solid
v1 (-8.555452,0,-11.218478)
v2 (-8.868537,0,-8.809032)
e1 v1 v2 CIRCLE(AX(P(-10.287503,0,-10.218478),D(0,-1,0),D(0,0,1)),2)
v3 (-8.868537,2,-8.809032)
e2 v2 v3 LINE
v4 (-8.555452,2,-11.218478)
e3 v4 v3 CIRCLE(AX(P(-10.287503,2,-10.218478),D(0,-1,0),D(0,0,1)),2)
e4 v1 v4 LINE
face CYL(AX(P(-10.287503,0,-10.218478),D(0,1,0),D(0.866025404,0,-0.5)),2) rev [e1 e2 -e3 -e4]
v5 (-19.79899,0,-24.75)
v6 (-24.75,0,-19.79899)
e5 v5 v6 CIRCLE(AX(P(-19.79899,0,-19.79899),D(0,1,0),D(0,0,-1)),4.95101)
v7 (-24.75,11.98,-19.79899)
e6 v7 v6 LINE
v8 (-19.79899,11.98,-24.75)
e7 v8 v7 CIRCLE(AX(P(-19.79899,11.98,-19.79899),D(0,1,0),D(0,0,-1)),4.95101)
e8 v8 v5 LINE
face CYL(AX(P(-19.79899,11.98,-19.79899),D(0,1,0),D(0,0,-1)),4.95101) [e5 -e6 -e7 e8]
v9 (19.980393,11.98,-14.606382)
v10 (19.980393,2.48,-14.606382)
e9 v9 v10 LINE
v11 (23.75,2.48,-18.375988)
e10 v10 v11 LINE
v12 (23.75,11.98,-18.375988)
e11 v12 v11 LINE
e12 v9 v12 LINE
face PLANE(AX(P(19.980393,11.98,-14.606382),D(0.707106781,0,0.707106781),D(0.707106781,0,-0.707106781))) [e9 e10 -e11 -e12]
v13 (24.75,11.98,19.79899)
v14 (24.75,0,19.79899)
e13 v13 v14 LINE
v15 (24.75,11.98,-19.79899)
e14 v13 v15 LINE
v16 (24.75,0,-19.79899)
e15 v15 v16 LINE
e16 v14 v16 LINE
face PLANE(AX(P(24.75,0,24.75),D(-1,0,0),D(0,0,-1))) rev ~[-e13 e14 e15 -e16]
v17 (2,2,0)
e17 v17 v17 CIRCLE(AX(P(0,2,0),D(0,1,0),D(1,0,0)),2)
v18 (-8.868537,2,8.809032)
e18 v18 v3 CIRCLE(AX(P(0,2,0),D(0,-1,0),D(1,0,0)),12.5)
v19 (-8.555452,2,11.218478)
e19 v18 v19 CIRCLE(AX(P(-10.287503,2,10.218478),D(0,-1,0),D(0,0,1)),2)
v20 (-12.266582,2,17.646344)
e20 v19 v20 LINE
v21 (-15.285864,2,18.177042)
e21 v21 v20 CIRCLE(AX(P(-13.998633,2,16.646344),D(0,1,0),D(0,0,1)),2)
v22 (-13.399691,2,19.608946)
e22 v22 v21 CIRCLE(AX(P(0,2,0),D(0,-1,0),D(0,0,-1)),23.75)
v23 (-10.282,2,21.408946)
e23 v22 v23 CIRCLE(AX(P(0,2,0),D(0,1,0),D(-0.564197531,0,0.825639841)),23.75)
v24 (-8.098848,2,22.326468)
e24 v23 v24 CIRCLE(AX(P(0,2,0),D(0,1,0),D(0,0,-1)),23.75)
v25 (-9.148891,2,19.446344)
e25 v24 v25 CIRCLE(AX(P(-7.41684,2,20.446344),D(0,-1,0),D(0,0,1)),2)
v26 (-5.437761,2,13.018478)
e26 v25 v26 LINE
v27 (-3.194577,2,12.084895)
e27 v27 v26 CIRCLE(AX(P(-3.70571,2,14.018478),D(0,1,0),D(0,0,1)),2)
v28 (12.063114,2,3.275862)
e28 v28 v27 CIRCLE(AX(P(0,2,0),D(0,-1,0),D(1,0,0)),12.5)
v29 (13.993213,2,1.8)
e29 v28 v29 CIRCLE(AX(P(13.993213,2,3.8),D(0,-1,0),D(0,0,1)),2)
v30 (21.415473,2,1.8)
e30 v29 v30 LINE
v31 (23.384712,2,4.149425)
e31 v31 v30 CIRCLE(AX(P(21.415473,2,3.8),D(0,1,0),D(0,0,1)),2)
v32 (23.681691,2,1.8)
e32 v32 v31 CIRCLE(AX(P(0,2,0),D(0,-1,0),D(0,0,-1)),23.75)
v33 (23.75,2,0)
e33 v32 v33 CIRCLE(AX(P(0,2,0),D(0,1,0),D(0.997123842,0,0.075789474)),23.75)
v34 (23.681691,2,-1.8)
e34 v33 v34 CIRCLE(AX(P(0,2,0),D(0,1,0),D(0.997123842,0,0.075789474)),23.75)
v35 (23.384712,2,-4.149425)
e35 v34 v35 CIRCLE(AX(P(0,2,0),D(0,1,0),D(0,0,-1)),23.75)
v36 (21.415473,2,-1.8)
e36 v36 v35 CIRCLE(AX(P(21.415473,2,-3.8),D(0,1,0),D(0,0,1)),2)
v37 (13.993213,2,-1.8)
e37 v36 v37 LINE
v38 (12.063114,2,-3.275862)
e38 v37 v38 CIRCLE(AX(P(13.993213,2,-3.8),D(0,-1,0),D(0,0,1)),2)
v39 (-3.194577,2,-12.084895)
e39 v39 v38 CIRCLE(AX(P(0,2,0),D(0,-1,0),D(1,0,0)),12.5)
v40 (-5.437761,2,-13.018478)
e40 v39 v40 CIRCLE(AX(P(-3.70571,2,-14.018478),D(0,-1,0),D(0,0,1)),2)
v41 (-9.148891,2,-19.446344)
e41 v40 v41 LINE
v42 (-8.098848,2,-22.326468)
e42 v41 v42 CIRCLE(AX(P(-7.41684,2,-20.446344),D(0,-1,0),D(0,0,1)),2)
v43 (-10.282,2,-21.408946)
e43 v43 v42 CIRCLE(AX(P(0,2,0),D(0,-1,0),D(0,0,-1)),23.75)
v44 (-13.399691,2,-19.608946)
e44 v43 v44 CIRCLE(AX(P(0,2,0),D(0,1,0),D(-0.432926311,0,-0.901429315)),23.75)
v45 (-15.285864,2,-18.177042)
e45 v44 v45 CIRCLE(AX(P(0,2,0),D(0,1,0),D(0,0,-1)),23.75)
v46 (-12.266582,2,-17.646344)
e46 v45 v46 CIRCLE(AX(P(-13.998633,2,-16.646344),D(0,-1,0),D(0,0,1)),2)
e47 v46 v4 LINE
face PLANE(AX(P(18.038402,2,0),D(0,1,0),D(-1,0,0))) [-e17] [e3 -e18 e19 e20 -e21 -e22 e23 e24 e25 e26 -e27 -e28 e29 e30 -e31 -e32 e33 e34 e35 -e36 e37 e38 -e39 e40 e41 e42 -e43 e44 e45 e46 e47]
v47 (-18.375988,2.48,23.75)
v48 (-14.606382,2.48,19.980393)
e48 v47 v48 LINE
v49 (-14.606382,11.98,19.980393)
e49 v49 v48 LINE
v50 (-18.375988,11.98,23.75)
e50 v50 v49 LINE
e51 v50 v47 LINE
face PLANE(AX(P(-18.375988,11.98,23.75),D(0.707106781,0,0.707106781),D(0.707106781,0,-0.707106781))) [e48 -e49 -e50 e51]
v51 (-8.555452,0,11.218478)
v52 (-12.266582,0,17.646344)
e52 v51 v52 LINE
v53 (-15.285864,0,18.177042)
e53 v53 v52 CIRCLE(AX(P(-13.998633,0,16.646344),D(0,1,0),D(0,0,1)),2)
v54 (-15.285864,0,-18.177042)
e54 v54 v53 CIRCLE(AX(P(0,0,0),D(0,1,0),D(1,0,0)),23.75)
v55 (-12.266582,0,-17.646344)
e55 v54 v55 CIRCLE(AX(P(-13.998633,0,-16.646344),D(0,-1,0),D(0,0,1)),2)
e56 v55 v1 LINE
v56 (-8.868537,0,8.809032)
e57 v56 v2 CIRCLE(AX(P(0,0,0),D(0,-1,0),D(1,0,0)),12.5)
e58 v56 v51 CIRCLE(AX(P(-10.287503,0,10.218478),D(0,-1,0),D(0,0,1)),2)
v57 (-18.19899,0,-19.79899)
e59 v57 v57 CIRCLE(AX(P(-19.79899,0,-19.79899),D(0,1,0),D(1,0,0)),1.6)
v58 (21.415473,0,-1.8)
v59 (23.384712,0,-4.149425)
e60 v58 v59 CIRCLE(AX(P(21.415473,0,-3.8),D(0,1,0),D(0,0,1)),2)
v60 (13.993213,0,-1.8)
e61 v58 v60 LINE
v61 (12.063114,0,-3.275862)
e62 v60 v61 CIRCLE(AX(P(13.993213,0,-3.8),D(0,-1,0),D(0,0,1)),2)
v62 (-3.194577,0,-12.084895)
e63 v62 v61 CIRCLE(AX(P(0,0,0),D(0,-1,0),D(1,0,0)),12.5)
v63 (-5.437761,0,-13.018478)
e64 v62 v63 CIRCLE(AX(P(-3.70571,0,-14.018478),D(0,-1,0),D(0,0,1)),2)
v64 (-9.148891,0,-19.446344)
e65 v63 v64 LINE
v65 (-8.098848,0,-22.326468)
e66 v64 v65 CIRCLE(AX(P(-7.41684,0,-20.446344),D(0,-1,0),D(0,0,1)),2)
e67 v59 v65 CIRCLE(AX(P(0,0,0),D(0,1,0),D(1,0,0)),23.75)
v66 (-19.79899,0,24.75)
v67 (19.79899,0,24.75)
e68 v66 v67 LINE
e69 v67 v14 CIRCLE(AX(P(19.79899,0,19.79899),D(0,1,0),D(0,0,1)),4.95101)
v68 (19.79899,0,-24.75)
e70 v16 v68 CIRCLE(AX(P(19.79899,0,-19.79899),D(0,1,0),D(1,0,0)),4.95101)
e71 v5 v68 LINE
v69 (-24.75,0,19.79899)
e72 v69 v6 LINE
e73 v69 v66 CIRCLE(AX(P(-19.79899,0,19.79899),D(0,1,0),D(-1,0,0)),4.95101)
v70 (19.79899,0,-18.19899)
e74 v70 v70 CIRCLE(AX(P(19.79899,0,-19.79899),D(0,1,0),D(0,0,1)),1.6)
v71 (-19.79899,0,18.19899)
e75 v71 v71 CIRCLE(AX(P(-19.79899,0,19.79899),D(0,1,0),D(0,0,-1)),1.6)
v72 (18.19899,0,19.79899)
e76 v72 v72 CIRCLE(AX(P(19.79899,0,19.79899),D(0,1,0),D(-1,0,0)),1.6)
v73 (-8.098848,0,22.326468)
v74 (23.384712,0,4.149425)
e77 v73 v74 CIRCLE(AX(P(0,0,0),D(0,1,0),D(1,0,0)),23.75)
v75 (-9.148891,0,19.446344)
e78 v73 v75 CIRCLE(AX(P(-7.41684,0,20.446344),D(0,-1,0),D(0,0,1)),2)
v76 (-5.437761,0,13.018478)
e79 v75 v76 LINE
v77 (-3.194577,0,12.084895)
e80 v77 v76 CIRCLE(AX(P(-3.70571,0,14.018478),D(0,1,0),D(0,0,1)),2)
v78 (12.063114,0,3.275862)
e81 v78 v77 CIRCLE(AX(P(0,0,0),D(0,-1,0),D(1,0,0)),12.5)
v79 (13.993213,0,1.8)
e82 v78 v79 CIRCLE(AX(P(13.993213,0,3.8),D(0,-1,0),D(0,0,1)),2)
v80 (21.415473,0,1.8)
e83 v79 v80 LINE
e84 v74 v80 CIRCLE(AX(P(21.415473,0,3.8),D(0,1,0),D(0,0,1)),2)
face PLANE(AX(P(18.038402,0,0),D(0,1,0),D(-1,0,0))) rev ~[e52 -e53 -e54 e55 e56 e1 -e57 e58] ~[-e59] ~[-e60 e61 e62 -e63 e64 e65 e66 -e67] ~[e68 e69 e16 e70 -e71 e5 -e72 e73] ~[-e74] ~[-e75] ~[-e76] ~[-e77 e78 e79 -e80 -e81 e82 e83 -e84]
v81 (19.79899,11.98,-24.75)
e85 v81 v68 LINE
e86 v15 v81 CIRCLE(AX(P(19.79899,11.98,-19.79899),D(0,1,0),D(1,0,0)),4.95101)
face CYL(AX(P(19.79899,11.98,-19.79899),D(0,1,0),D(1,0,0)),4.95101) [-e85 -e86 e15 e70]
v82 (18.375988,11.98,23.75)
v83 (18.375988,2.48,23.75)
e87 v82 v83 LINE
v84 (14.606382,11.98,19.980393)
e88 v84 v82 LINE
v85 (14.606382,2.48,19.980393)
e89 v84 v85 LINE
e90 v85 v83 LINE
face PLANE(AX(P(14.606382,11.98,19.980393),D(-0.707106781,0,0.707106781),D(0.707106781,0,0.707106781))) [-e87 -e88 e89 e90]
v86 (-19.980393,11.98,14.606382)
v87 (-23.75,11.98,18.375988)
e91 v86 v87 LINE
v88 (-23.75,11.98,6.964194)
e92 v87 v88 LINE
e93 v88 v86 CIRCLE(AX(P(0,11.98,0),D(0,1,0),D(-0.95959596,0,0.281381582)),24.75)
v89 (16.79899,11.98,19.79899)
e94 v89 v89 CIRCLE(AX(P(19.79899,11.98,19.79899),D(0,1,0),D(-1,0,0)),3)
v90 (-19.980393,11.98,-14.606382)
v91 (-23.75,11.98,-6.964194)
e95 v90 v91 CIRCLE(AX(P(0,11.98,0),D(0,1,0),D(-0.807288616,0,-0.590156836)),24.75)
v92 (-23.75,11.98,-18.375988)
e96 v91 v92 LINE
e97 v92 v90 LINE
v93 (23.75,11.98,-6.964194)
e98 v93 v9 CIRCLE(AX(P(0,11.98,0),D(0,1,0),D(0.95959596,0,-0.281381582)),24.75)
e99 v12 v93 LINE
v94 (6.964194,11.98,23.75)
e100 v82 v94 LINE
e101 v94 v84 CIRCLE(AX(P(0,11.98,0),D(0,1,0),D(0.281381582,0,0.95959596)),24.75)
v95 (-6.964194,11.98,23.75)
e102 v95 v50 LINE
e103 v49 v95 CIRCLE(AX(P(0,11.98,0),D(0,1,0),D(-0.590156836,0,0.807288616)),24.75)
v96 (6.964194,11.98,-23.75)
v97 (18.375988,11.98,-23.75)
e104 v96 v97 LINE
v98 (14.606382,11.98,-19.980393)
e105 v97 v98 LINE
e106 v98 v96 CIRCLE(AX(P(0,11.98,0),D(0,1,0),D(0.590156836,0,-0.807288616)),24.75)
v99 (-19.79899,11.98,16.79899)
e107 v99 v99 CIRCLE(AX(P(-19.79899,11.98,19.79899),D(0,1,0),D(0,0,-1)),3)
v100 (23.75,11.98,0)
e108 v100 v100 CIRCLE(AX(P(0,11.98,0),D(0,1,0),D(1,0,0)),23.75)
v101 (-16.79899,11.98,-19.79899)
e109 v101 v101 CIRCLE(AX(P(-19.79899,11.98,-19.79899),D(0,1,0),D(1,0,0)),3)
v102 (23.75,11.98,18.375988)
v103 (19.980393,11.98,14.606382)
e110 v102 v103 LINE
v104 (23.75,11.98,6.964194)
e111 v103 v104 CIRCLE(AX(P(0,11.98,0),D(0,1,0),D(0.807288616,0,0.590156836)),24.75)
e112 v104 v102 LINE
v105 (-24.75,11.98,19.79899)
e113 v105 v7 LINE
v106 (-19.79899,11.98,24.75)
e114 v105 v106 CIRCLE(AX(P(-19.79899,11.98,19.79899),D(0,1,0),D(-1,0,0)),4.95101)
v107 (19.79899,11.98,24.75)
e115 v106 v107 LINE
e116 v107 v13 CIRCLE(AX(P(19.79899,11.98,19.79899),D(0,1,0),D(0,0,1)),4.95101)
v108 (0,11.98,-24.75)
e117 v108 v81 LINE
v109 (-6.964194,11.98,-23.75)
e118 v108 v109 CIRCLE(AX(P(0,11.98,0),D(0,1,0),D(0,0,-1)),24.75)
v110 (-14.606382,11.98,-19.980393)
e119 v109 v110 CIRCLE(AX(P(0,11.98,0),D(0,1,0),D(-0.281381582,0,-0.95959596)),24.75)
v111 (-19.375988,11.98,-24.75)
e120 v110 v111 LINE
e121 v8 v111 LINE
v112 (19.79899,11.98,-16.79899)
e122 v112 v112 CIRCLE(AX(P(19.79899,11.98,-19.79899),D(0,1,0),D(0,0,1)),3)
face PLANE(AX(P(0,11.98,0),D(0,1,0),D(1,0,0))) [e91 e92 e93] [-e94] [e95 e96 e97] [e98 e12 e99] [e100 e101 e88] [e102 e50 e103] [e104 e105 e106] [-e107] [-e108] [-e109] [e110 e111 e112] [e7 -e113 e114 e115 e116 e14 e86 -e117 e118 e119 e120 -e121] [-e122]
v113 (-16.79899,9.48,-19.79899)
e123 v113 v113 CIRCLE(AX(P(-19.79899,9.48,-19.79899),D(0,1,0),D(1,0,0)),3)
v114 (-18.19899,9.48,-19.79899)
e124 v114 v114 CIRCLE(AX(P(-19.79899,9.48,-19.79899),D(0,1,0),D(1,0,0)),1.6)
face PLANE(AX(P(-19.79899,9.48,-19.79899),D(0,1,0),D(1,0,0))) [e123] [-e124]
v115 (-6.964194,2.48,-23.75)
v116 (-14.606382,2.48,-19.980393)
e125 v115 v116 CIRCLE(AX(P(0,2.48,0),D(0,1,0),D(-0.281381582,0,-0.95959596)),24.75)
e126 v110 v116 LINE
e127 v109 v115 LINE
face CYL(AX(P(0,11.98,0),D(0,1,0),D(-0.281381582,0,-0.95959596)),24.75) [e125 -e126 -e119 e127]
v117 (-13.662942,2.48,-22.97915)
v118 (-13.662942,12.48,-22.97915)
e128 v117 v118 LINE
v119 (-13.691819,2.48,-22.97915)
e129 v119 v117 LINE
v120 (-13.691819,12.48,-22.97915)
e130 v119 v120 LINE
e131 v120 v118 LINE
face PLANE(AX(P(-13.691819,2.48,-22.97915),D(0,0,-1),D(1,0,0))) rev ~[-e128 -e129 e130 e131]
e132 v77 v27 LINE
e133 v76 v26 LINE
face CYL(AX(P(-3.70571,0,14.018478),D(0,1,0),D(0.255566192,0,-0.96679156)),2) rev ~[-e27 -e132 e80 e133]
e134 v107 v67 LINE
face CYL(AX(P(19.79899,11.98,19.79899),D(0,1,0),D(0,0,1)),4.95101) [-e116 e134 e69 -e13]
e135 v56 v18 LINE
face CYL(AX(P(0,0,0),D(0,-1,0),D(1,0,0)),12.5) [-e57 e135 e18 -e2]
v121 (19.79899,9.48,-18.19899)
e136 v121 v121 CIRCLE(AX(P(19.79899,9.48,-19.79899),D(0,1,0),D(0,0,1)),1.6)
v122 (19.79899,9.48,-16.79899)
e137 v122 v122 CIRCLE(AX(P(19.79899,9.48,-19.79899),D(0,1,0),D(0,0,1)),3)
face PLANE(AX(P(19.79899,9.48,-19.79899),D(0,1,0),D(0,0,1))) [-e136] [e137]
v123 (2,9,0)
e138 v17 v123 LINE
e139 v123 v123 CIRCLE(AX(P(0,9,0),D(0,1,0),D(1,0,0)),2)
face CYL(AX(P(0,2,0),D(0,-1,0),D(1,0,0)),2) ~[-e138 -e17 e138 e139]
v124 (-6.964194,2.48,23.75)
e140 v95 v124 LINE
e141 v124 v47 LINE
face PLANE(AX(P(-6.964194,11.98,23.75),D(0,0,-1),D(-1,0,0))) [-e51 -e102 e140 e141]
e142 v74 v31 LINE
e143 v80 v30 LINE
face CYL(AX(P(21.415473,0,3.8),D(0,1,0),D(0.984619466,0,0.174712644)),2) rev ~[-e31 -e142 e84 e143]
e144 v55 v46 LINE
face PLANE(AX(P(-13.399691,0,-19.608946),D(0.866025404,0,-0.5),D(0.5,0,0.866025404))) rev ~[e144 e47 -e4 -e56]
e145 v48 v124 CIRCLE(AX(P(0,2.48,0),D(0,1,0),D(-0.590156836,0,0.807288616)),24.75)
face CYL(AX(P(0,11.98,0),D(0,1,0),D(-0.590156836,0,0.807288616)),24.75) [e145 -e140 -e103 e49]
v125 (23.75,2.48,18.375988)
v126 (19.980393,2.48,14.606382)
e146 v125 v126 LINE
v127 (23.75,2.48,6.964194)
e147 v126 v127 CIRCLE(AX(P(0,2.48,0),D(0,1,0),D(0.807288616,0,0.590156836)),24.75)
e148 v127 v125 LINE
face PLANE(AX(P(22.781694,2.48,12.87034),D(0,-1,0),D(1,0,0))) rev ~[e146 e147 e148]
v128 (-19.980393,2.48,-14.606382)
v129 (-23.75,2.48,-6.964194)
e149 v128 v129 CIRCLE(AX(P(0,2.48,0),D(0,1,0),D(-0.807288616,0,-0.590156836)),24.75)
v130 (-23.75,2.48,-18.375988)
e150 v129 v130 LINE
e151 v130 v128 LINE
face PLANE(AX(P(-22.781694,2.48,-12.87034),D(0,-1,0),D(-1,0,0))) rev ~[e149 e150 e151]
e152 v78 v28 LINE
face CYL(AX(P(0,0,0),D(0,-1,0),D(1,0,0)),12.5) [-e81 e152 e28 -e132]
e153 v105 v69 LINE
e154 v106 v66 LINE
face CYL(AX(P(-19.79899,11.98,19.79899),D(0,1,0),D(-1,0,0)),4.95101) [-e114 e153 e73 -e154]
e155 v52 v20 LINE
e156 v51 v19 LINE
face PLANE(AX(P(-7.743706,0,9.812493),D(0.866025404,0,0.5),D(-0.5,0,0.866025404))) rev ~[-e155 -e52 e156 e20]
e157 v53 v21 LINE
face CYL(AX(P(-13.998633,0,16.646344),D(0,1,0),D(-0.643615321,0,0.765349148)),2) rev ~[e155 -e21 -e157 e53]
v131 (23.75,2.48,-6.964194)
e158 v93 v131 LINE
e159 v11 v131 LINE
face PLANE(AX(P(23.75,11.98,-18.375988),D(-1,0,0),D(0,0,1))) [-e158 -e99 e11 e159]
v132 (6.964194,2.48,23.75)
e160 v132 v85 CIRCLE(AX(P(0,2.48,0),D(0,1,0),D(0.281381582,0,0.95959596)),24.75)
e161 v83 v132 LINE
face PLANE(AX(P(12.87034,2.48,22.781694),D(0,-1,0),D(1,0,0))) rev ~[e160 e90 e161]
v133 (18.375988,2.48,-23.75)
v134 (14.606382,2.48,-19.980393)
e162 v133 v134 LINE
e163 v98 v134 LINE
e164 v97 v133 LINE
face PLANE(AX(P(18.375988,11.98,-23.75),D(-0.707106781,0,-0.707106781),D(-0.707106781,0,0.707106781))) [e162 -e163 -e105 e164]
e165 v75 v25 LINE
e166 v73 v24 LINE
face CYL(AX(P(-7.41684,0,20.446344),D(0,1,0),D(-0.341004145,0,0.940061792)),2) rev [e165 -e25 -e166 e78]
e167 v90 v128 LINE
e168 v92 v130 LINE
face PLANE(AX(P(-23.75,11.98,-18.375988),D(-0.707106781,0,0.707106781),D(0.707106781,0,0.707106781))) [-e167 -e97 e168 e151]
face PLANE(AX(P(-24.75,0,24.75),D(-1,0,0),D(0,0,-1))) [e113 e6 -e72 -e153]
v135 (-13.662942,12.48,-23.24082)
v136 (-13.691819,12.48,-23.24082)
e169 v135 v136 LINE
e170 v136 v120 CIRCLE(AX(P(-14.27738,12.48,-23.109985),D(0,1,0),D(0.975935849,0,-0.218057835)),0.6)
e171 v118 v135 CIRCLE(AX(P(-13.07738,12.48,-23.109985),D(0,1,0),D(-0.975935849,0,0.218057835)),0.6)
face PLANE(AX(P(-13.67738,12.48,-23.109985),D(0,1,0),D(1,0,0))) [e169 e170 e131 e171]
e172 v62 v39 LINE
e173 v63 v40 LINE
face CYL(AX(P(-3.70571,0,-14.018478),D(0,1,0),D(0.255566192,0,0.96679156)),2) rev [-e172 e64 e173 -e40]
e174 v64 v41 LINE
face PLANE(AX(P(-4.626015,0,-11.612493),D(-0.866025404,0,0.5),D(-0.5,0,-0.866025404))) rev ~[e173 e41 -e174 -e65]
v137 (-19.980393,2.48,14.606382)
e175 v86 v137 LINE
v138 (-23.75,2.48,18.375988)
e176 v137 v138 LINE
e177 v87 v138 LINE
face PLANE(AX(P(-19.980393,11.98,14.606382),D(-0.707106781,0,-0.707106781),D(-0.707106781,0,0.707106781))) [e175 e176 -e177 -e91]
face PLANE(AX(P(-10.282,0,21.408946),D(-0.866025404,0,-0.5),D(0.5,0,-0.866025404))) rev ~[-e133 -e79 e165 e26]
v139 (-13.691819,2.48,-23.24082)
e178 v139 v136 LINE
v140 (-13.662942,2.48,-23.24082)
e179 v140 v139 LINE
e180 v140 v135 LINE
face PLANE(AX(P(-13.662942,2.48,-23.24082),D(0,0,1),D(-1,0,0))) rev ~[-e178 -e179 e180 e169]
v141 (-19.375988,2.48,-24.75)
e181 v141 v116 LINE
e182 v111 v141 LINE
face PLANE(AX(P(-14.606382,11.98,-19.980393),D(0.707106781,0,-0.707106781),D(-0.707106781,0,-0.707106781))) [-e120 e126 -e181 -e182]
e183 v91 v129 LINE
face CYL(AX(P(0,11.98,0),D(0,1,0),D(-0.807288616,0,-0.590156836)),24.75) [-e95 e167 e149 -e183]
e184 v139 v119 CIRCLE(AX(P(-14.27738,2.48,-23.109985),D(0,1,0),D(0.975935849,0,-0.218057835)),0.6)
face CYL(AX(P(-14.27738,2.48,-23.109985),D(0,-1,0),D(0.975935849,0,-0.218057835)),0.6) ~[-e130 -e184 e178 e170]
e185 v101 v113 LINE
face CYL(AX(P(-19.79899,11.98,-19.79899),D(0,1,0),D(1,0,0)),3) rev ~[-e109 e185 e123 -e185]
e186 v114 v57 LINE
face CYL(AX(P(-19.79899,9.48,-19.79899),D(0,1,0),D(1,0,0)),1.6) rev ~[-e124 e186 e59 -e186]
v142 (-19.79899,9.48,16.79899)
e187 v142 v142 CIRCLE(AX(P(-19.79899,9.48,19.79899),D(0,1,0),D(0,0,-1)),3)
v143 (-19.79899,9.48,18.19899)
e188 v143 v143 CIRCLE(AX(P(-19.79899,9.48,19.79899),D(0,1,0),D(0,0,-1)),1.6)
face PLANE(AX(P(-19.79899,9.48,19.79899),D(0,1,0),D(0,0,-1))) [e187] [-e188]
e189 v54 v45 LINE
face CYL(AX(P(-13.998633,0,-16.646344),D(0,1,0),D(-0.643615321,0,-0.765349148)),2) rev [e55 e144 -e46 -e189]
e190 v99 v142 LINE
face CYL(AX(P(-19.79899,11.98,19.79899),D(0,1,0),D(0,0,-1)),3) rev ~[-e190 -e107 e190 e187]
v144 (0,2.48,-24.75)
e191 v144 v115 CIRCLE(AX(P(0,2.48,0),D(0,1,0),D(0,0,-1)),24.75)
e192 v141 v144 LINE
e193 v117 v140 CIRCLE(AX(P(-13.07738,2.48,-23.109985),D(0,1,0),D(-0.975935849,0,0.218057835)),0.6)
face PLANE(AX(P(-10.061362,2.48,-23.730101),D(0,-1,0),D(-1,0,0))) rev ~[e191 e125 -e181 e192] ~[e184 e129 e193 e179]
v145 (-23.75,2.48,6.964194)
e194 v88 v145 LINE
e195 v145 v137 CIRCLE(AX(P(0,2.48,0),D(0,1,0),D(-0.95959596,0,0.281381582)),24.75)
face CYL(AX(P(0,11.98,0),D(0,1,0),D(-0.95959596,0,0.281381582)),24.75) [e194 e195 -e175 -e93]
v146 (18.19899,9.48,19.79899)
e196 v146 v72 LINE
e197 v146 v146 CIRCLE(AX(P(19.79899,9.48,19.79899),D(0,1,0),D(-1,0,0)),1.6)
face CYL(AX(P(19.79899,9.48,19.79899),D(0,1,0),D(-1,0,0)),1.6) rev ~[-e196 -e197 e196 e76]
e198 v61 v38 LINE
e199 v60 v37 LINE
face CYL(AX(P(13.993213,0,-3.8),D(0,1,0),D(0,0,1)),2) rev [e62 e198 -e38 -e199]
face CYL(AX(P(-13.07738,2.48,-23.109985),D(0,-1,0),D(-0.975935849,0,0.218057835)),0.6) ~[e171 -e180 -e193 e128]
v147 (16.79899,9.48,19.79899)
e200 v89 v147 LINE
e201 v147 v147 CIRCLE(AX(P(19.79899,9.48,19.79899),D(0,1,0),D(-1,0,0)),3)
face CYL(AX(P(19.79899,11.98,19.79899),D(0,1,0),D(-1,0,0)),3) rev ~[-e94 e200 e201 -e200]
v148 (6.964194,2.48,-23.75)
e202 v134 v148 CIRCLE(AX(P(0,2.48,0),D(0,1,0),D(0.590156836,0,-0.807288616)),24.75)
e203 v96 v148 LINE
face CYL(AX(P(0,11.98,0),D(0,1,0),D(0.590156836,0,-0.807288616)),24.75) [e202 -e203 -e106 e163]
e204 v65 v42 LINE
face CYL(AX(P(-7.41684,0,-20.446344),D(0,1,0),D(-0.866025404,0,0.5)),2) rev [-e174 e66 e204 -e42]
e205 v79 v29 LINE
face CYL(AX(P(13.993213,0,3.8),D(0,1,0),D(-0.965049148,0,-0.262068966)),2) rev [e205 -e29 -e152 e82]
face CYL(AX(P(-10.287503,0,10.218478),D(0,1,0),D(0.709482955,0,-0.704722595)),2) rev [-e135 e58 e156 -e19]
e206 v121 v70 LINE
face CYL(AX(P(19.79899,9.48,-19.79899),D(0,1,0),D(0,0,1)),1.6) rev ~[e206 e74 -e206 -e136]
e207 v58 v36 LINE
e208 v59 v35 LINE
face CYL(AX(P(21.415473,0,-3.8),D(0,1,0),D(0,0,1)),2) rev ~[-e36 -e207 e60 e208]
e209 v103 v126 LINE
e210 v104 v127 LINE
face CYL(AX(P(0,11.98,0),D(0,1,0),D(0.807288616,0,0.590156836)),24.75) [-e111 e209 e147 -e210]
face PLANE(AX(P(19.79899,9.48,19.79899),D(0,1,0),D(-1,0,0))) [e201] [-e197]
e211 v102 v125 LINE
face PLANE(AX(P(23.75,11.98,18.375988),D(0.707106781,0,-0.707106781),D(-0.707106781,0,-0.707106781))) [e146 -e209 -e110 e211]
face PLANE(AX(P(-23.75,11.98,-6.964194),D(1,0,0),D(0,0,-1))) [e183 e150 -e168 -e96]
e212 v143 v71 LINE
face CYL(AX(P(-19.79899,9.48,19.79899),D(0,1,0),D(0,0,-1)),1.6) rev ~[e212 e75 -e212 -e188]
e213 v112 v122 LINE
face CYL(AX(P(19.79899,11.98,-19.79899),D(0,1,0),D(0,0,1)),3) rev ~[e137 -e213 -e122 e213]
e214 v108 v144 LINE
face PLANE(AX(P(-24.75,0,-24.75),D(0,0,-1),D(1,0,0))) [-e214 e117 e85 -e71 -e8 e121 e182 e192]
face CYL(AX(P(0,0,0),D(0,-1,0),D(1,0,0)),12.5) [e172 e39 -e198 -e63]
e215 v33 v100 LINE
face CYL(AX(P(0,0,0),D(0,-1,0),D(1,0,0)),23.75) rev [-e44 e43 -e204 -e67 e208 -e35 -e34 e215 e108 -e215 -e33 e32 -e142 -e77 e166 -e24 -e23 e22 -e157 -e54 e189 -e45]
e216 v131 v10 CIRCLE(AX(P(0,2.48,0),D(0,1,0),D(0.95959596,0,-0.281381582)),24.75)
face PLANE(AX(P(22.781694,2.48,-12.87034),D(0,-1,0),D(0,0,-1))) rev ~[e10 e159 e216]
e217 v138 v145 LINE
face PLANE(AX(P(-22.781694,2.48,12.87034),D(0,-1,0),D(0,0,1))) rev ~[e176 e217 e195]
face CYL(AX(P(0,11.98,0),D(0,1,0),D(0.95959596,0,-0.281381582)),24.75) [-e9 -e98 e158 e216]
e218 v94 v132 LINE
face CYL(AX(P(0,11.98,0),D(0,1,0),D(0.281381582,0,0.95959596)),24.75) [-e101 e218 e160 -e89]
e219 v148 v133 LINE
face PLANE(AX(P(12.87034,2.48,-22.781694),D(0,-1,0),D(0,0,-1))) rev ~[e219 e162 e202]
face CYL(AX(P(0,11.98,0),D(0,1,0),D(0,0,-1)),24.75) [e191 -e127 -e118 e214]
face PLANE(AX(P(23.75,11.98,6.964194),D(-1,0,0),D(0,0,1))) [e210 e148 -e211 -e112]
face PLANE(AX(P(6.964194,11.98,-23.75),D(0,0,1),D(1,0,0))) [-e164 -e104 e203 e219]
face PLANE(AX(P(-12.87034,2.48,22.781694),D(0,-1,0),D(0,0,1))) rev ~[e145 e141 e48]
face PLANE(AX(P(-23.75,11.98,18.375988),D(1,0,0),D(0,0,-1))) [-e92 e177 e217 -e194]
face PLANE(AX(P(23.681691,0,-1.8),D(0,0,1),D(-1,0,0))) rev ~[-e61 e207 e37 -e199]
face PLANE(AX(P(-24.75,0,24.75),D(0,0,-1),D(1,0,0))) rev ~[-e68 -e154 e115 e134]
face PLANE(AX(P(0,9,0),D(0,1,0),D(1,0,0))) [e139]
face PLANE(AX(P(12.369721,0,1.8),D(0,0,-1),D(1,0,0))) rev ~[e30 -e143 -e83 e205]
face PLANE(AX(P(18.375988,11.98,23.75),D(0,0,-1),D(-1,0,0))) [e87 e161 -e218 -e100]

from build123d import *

# Parameters (mm, degrees)
SKETCH_1_W                       = 49.5
SKETCH_1_H                       = 49.5
SKETCH_1_R                       = 23.75
EXTRUDE_1_DEPTH                  = 11.98
SKETCH_2_R                       = 3
CUT_EXTRUDE_1_DEPTH              = 2.5
SKETCH_3_R                       = 1.6
CUT_EXTRUDE_2_DEPTH              = 10.48
CUT_EXTRUDE_3_DEPTH              = 12.98
CUT_EXTRUDE_4_DEPTH              = 9.5
PATTERN_CIRCULAR_1_COUNT         = 4
SKETCH_7_R                       = 12.5
EXTRUDE_2_DEPTH                  = 2
EXTRUDE_3_DEPTH                  = 2
FILLET_2_R                       = 2
PATTERN_CIRCULAR_2_COUNT         = 3
FILLET_2_OF_PATTERN_CIRCULAR_2_R = 2
SKETCH_9_R                       = 2
EXTRUDE_4_DEPTH                  = 7
CUT_EXTRUDE_5_DEPTH              = 9.5
EXTRUDE_5_DEPTH                  = 10


with BuildPart() as part:
    # 草图1 → 凸台-拉伸1 (new body)
    with BuildSketch(Plane(origin=(0, 0, 0), x_dir=(1, 0, 0), z_dir=(0, 1, 0))):
        Rectangle(SKETCH_1_W, SKETCH_1_H)
        Circle(SKETCH_1_R, mode=Mode.SUBTRACT)
    extrude(amount=EXTRUDE_1_DEPTH)

    # 草图2 → 切除-拉伸1 (cut)
    with BuildSketch(Plane(origin=(0, 11.98, 0), x_dir=(1, 0, 0), z_dir=(0, 1, 0))):
        with Locations((-19.798989873, 19.798989873)):
            Circle(SKETCH_2_R)
    cut_extrude_1 = extrude(amount=-CUT_EXTRUDE_1_DEPTH, mode=Mode.SUBTRACT)

    # 草图3 → 切除-拉伸2 (cut, through all)
    with BuildSketch(Plane(origin=(0, 9.48, 0), x_dir=(1, 0, 0), z_dir=(0, 1, 0))):
        with Locations((-19.798989873, 19.798989873)):
            Circle(SKETCH_3_R)
    cut_extrude_2 = extrude(amount=-CUT_EXTRUDE_2_DEPTH, mode=Mode.SUBTRACT)

    # 草图4 → 切除-拉伸3 (cut, through all)
    with BuildSketch(Plane(origin=(0, 11.98, 0), x_dir=(1, 0, 0), z_dir=(0, 1, 0))):
        with BuildLine():
            Line((-24.75, 19.798989873), (-24.75, 24.75))
            Line((-24.75, 24.75), (-19.798989873, 24.75))
            ThreePointArc((-19.798989873, 24.75), (-23.299882708, 23.299882708), (-24.75, 19.798989873))
        make_face()
    cut_extrude_3 = extrude(amount=-CUT_EXTRUDE_3_DEPTH, mode=Mode.SUBTRACT)

    # 草图5 → 切除-拉伸4 (cut)
    with BuildSketch(Plane(origin=(0, 11.98, 0), x_dir=(1, 0, 0), z_dir=(0, 1, 0))):
        with BuildLine():
            Line((-23.75, 18.375988463), (-19.980393233, 14.606381696))
            ThreePointArc((-19.980393233, 14.606381696), (-22.196566868, 10.948740533), (-23.75, 6.964194139))
            Line((-23.75, 6.964194139), (-23.75, 18.375988463))
        make_face()
        with BuildLine():
            Line((-18.375988463, 23.75), (-6.964194139, 23.75))
            ThreePointArc((-6.964194139, 23.75), (-10.948740533, 22.196566868), (-14.606381696, 19.980393233))
            Line((-14.606381696, 19.980393233), (-18.375988463, 23.75))
        make_face()
    cut_extrude_4 = extrude(amount=-CUT_EXTRUDE_4_DEPTH, mode=Mode.SUBTRACT)

    # 阵列(圆周)1: 切除-拉伸1, 切除-拉伸2, 切除-拉伸3, 切除-拉伸4 ×4 about axis
    pattern_circular_1_axis = Axis((0, 0, 0), (0, 1, 0))
    for i in range(1, PATTERN_CIRCULAR_1_COUNT):
        add(cut_extrude_1.rotate(pattern_circular_1_axis, i * 360 / PATTERN_CIRCULAR_1_COUNT), mode=Mode.SUBTRACT)
        add(cut_extrude_2.rotate(pattern_circular_1_axis, i * 360 / PATTERN_CIRCULAR_1_COUNT), mode=Mode.SUBTRACT)
        add(cut_extrude_3.rotate(pattern_circular_1_axis, i * 360 / PATTERN_CIRCULAR_1_COUNT), mode=Mode.SUBTRACT)
        add(cut_extrude_4.rotate(pattern_circular_1_axis, i * 360 / PATTERN_CIRCULAR_1_COUNT), mode=Mode.SUBTRACT)



with BuildPart() as body_2:
    # 草图7 → 凸台-拉伸2 (new body)
    with BuildSketch(Plane.XZ):
        Circle(SKETCH_7_R)
    extrude(amount=-EXTRUDE_2_DEPTH)


with BuildPart() as part_1:
    add(part.part)

    add(body_2.part)  # 凸台-拉伸3 merges body 2
    # 草图8 → 凸台-拉伸3 (add)
    with BuildSketch(Plane.XZ):
        with BuildLine():
            Line((23.68169124, -1.8), (12.369721096, -1.8))
            ThreePointArc((12.369721096, -1.8), (12.5, 0), (12.369721096, 1.8))
            Line((12.369721096, 1.8), (23.68169124, 1.8))
            ThreePointArc((23.68169124, 1.8), (23.75, 0), (23.68169124, -1.8))
        make_face()
    extrude_3 = extrude(amount=-EXTRUDE_3_DEPTH)

    # 圆角2
    fillet_2_edges = [part_1.edges().sort_by_distance(p)[0] for p in [
        (23.68169124, 1, 1.8),
        (23.68169124, 1, -1.8),
        (12.369721096, 1, -1.8),
        (12.369721096, 1, 1.8),
    ]]
    fillet(fillet_2_edges, radius=FILLET_2_R)

    # 阵列(圆周)2: 凸台-拉伸3 ×3 about axis
    pattern_circular_2_axis = Axis((0, 0, 0), (0, 1, 0))
    for i in range(1, PATTERN_CIRCULAR_2_COUNT):
        add(extrude_3.rotate(pattern_circular_2_axis, i * 360 / PATTERN_CIRCULAR_2_COUNT))

    # 圆角2 of 阵列(圆周)2
    fillet_2_of_pattern_circular_2_edges = [part_1.edges().sort_by_distance(p)[0] for p in [
        (-10.281999893, 1, -21.408946219),
        (-13.399691347, 1, -19.608946219),
        (-7.743706275, 1, -9.812492707),
        (-4.626014821, 1, -11.612492707),
        (-13.399691347, 1, 19.608946219),
        (-10.281999893, 1, 21.408946219),
        (-4.626014821, 1, 11.612492707),
        (-7.743706275, 1, 9.812492707),
    ]]
    fillet(fillet_2_of_pattern_circular_2_edges, radius=FILLET_2_OF_PATTERN_CIRCULAR_2_R)

    # 草图9 → 凸台-拉伸4 (add)
    with BuildSketch(Plane(origin=(0, 2, 0), x_dir=(1, 0, 0), z_dir=(0, 1, 0))):
        Circle(SKETCH_9_R)
    extrude(amount=EXTRUDE_4_DEPTH)

    # 草图10 → 切除-拉伸5 (cut)
    with BuildSketch(Plane(origin=(0, 11.98, 0), x_dir=(1, 0, 0), z_dir=(0, 1, 0))):
        with BuildLine():
            Line((-14.606381696, 19.980393233), (-19.375988463, 24.75))
            Line((-19.375988463, 24.75), (0, 24.75))
            ThreePointArc((0, 24.75), (-7.68270029, 23.527401392), (-14.606381696, 19.980393233))
        make_face()
    extrude(amount=-CUT_EXTRUDE_5_DEPTH, mode=Mode.SUBTRACT)

    # 草图11 → 凸台-拉伸5 (add)
    with BuildSketch(Plane(origin=(0, 2.48, 0), x_dir=(1, 0, 0), z_dir=(0, 1, 0))):
        with BuildLine():
            Line((-13.662941725, 23.240819528), (-13.691818706, 23.240819528))
            ThreePointArc((-13.691818706, 23.240819528), (-14.877380215, 23.109984827), (-13.691818706, 22.979150126))
            Line((-13.691818706, 22.979150126), (-13.662941725, 22.979150126))
            ThreePointArc((-13.662941725, 22.979150126), (-12.477380215, 23.109984827), (-13.662941725, 23.240819528))
        make_face()
    extrude(amount=EXTRUDE_5_DEPTH)


solid = part_1.part
